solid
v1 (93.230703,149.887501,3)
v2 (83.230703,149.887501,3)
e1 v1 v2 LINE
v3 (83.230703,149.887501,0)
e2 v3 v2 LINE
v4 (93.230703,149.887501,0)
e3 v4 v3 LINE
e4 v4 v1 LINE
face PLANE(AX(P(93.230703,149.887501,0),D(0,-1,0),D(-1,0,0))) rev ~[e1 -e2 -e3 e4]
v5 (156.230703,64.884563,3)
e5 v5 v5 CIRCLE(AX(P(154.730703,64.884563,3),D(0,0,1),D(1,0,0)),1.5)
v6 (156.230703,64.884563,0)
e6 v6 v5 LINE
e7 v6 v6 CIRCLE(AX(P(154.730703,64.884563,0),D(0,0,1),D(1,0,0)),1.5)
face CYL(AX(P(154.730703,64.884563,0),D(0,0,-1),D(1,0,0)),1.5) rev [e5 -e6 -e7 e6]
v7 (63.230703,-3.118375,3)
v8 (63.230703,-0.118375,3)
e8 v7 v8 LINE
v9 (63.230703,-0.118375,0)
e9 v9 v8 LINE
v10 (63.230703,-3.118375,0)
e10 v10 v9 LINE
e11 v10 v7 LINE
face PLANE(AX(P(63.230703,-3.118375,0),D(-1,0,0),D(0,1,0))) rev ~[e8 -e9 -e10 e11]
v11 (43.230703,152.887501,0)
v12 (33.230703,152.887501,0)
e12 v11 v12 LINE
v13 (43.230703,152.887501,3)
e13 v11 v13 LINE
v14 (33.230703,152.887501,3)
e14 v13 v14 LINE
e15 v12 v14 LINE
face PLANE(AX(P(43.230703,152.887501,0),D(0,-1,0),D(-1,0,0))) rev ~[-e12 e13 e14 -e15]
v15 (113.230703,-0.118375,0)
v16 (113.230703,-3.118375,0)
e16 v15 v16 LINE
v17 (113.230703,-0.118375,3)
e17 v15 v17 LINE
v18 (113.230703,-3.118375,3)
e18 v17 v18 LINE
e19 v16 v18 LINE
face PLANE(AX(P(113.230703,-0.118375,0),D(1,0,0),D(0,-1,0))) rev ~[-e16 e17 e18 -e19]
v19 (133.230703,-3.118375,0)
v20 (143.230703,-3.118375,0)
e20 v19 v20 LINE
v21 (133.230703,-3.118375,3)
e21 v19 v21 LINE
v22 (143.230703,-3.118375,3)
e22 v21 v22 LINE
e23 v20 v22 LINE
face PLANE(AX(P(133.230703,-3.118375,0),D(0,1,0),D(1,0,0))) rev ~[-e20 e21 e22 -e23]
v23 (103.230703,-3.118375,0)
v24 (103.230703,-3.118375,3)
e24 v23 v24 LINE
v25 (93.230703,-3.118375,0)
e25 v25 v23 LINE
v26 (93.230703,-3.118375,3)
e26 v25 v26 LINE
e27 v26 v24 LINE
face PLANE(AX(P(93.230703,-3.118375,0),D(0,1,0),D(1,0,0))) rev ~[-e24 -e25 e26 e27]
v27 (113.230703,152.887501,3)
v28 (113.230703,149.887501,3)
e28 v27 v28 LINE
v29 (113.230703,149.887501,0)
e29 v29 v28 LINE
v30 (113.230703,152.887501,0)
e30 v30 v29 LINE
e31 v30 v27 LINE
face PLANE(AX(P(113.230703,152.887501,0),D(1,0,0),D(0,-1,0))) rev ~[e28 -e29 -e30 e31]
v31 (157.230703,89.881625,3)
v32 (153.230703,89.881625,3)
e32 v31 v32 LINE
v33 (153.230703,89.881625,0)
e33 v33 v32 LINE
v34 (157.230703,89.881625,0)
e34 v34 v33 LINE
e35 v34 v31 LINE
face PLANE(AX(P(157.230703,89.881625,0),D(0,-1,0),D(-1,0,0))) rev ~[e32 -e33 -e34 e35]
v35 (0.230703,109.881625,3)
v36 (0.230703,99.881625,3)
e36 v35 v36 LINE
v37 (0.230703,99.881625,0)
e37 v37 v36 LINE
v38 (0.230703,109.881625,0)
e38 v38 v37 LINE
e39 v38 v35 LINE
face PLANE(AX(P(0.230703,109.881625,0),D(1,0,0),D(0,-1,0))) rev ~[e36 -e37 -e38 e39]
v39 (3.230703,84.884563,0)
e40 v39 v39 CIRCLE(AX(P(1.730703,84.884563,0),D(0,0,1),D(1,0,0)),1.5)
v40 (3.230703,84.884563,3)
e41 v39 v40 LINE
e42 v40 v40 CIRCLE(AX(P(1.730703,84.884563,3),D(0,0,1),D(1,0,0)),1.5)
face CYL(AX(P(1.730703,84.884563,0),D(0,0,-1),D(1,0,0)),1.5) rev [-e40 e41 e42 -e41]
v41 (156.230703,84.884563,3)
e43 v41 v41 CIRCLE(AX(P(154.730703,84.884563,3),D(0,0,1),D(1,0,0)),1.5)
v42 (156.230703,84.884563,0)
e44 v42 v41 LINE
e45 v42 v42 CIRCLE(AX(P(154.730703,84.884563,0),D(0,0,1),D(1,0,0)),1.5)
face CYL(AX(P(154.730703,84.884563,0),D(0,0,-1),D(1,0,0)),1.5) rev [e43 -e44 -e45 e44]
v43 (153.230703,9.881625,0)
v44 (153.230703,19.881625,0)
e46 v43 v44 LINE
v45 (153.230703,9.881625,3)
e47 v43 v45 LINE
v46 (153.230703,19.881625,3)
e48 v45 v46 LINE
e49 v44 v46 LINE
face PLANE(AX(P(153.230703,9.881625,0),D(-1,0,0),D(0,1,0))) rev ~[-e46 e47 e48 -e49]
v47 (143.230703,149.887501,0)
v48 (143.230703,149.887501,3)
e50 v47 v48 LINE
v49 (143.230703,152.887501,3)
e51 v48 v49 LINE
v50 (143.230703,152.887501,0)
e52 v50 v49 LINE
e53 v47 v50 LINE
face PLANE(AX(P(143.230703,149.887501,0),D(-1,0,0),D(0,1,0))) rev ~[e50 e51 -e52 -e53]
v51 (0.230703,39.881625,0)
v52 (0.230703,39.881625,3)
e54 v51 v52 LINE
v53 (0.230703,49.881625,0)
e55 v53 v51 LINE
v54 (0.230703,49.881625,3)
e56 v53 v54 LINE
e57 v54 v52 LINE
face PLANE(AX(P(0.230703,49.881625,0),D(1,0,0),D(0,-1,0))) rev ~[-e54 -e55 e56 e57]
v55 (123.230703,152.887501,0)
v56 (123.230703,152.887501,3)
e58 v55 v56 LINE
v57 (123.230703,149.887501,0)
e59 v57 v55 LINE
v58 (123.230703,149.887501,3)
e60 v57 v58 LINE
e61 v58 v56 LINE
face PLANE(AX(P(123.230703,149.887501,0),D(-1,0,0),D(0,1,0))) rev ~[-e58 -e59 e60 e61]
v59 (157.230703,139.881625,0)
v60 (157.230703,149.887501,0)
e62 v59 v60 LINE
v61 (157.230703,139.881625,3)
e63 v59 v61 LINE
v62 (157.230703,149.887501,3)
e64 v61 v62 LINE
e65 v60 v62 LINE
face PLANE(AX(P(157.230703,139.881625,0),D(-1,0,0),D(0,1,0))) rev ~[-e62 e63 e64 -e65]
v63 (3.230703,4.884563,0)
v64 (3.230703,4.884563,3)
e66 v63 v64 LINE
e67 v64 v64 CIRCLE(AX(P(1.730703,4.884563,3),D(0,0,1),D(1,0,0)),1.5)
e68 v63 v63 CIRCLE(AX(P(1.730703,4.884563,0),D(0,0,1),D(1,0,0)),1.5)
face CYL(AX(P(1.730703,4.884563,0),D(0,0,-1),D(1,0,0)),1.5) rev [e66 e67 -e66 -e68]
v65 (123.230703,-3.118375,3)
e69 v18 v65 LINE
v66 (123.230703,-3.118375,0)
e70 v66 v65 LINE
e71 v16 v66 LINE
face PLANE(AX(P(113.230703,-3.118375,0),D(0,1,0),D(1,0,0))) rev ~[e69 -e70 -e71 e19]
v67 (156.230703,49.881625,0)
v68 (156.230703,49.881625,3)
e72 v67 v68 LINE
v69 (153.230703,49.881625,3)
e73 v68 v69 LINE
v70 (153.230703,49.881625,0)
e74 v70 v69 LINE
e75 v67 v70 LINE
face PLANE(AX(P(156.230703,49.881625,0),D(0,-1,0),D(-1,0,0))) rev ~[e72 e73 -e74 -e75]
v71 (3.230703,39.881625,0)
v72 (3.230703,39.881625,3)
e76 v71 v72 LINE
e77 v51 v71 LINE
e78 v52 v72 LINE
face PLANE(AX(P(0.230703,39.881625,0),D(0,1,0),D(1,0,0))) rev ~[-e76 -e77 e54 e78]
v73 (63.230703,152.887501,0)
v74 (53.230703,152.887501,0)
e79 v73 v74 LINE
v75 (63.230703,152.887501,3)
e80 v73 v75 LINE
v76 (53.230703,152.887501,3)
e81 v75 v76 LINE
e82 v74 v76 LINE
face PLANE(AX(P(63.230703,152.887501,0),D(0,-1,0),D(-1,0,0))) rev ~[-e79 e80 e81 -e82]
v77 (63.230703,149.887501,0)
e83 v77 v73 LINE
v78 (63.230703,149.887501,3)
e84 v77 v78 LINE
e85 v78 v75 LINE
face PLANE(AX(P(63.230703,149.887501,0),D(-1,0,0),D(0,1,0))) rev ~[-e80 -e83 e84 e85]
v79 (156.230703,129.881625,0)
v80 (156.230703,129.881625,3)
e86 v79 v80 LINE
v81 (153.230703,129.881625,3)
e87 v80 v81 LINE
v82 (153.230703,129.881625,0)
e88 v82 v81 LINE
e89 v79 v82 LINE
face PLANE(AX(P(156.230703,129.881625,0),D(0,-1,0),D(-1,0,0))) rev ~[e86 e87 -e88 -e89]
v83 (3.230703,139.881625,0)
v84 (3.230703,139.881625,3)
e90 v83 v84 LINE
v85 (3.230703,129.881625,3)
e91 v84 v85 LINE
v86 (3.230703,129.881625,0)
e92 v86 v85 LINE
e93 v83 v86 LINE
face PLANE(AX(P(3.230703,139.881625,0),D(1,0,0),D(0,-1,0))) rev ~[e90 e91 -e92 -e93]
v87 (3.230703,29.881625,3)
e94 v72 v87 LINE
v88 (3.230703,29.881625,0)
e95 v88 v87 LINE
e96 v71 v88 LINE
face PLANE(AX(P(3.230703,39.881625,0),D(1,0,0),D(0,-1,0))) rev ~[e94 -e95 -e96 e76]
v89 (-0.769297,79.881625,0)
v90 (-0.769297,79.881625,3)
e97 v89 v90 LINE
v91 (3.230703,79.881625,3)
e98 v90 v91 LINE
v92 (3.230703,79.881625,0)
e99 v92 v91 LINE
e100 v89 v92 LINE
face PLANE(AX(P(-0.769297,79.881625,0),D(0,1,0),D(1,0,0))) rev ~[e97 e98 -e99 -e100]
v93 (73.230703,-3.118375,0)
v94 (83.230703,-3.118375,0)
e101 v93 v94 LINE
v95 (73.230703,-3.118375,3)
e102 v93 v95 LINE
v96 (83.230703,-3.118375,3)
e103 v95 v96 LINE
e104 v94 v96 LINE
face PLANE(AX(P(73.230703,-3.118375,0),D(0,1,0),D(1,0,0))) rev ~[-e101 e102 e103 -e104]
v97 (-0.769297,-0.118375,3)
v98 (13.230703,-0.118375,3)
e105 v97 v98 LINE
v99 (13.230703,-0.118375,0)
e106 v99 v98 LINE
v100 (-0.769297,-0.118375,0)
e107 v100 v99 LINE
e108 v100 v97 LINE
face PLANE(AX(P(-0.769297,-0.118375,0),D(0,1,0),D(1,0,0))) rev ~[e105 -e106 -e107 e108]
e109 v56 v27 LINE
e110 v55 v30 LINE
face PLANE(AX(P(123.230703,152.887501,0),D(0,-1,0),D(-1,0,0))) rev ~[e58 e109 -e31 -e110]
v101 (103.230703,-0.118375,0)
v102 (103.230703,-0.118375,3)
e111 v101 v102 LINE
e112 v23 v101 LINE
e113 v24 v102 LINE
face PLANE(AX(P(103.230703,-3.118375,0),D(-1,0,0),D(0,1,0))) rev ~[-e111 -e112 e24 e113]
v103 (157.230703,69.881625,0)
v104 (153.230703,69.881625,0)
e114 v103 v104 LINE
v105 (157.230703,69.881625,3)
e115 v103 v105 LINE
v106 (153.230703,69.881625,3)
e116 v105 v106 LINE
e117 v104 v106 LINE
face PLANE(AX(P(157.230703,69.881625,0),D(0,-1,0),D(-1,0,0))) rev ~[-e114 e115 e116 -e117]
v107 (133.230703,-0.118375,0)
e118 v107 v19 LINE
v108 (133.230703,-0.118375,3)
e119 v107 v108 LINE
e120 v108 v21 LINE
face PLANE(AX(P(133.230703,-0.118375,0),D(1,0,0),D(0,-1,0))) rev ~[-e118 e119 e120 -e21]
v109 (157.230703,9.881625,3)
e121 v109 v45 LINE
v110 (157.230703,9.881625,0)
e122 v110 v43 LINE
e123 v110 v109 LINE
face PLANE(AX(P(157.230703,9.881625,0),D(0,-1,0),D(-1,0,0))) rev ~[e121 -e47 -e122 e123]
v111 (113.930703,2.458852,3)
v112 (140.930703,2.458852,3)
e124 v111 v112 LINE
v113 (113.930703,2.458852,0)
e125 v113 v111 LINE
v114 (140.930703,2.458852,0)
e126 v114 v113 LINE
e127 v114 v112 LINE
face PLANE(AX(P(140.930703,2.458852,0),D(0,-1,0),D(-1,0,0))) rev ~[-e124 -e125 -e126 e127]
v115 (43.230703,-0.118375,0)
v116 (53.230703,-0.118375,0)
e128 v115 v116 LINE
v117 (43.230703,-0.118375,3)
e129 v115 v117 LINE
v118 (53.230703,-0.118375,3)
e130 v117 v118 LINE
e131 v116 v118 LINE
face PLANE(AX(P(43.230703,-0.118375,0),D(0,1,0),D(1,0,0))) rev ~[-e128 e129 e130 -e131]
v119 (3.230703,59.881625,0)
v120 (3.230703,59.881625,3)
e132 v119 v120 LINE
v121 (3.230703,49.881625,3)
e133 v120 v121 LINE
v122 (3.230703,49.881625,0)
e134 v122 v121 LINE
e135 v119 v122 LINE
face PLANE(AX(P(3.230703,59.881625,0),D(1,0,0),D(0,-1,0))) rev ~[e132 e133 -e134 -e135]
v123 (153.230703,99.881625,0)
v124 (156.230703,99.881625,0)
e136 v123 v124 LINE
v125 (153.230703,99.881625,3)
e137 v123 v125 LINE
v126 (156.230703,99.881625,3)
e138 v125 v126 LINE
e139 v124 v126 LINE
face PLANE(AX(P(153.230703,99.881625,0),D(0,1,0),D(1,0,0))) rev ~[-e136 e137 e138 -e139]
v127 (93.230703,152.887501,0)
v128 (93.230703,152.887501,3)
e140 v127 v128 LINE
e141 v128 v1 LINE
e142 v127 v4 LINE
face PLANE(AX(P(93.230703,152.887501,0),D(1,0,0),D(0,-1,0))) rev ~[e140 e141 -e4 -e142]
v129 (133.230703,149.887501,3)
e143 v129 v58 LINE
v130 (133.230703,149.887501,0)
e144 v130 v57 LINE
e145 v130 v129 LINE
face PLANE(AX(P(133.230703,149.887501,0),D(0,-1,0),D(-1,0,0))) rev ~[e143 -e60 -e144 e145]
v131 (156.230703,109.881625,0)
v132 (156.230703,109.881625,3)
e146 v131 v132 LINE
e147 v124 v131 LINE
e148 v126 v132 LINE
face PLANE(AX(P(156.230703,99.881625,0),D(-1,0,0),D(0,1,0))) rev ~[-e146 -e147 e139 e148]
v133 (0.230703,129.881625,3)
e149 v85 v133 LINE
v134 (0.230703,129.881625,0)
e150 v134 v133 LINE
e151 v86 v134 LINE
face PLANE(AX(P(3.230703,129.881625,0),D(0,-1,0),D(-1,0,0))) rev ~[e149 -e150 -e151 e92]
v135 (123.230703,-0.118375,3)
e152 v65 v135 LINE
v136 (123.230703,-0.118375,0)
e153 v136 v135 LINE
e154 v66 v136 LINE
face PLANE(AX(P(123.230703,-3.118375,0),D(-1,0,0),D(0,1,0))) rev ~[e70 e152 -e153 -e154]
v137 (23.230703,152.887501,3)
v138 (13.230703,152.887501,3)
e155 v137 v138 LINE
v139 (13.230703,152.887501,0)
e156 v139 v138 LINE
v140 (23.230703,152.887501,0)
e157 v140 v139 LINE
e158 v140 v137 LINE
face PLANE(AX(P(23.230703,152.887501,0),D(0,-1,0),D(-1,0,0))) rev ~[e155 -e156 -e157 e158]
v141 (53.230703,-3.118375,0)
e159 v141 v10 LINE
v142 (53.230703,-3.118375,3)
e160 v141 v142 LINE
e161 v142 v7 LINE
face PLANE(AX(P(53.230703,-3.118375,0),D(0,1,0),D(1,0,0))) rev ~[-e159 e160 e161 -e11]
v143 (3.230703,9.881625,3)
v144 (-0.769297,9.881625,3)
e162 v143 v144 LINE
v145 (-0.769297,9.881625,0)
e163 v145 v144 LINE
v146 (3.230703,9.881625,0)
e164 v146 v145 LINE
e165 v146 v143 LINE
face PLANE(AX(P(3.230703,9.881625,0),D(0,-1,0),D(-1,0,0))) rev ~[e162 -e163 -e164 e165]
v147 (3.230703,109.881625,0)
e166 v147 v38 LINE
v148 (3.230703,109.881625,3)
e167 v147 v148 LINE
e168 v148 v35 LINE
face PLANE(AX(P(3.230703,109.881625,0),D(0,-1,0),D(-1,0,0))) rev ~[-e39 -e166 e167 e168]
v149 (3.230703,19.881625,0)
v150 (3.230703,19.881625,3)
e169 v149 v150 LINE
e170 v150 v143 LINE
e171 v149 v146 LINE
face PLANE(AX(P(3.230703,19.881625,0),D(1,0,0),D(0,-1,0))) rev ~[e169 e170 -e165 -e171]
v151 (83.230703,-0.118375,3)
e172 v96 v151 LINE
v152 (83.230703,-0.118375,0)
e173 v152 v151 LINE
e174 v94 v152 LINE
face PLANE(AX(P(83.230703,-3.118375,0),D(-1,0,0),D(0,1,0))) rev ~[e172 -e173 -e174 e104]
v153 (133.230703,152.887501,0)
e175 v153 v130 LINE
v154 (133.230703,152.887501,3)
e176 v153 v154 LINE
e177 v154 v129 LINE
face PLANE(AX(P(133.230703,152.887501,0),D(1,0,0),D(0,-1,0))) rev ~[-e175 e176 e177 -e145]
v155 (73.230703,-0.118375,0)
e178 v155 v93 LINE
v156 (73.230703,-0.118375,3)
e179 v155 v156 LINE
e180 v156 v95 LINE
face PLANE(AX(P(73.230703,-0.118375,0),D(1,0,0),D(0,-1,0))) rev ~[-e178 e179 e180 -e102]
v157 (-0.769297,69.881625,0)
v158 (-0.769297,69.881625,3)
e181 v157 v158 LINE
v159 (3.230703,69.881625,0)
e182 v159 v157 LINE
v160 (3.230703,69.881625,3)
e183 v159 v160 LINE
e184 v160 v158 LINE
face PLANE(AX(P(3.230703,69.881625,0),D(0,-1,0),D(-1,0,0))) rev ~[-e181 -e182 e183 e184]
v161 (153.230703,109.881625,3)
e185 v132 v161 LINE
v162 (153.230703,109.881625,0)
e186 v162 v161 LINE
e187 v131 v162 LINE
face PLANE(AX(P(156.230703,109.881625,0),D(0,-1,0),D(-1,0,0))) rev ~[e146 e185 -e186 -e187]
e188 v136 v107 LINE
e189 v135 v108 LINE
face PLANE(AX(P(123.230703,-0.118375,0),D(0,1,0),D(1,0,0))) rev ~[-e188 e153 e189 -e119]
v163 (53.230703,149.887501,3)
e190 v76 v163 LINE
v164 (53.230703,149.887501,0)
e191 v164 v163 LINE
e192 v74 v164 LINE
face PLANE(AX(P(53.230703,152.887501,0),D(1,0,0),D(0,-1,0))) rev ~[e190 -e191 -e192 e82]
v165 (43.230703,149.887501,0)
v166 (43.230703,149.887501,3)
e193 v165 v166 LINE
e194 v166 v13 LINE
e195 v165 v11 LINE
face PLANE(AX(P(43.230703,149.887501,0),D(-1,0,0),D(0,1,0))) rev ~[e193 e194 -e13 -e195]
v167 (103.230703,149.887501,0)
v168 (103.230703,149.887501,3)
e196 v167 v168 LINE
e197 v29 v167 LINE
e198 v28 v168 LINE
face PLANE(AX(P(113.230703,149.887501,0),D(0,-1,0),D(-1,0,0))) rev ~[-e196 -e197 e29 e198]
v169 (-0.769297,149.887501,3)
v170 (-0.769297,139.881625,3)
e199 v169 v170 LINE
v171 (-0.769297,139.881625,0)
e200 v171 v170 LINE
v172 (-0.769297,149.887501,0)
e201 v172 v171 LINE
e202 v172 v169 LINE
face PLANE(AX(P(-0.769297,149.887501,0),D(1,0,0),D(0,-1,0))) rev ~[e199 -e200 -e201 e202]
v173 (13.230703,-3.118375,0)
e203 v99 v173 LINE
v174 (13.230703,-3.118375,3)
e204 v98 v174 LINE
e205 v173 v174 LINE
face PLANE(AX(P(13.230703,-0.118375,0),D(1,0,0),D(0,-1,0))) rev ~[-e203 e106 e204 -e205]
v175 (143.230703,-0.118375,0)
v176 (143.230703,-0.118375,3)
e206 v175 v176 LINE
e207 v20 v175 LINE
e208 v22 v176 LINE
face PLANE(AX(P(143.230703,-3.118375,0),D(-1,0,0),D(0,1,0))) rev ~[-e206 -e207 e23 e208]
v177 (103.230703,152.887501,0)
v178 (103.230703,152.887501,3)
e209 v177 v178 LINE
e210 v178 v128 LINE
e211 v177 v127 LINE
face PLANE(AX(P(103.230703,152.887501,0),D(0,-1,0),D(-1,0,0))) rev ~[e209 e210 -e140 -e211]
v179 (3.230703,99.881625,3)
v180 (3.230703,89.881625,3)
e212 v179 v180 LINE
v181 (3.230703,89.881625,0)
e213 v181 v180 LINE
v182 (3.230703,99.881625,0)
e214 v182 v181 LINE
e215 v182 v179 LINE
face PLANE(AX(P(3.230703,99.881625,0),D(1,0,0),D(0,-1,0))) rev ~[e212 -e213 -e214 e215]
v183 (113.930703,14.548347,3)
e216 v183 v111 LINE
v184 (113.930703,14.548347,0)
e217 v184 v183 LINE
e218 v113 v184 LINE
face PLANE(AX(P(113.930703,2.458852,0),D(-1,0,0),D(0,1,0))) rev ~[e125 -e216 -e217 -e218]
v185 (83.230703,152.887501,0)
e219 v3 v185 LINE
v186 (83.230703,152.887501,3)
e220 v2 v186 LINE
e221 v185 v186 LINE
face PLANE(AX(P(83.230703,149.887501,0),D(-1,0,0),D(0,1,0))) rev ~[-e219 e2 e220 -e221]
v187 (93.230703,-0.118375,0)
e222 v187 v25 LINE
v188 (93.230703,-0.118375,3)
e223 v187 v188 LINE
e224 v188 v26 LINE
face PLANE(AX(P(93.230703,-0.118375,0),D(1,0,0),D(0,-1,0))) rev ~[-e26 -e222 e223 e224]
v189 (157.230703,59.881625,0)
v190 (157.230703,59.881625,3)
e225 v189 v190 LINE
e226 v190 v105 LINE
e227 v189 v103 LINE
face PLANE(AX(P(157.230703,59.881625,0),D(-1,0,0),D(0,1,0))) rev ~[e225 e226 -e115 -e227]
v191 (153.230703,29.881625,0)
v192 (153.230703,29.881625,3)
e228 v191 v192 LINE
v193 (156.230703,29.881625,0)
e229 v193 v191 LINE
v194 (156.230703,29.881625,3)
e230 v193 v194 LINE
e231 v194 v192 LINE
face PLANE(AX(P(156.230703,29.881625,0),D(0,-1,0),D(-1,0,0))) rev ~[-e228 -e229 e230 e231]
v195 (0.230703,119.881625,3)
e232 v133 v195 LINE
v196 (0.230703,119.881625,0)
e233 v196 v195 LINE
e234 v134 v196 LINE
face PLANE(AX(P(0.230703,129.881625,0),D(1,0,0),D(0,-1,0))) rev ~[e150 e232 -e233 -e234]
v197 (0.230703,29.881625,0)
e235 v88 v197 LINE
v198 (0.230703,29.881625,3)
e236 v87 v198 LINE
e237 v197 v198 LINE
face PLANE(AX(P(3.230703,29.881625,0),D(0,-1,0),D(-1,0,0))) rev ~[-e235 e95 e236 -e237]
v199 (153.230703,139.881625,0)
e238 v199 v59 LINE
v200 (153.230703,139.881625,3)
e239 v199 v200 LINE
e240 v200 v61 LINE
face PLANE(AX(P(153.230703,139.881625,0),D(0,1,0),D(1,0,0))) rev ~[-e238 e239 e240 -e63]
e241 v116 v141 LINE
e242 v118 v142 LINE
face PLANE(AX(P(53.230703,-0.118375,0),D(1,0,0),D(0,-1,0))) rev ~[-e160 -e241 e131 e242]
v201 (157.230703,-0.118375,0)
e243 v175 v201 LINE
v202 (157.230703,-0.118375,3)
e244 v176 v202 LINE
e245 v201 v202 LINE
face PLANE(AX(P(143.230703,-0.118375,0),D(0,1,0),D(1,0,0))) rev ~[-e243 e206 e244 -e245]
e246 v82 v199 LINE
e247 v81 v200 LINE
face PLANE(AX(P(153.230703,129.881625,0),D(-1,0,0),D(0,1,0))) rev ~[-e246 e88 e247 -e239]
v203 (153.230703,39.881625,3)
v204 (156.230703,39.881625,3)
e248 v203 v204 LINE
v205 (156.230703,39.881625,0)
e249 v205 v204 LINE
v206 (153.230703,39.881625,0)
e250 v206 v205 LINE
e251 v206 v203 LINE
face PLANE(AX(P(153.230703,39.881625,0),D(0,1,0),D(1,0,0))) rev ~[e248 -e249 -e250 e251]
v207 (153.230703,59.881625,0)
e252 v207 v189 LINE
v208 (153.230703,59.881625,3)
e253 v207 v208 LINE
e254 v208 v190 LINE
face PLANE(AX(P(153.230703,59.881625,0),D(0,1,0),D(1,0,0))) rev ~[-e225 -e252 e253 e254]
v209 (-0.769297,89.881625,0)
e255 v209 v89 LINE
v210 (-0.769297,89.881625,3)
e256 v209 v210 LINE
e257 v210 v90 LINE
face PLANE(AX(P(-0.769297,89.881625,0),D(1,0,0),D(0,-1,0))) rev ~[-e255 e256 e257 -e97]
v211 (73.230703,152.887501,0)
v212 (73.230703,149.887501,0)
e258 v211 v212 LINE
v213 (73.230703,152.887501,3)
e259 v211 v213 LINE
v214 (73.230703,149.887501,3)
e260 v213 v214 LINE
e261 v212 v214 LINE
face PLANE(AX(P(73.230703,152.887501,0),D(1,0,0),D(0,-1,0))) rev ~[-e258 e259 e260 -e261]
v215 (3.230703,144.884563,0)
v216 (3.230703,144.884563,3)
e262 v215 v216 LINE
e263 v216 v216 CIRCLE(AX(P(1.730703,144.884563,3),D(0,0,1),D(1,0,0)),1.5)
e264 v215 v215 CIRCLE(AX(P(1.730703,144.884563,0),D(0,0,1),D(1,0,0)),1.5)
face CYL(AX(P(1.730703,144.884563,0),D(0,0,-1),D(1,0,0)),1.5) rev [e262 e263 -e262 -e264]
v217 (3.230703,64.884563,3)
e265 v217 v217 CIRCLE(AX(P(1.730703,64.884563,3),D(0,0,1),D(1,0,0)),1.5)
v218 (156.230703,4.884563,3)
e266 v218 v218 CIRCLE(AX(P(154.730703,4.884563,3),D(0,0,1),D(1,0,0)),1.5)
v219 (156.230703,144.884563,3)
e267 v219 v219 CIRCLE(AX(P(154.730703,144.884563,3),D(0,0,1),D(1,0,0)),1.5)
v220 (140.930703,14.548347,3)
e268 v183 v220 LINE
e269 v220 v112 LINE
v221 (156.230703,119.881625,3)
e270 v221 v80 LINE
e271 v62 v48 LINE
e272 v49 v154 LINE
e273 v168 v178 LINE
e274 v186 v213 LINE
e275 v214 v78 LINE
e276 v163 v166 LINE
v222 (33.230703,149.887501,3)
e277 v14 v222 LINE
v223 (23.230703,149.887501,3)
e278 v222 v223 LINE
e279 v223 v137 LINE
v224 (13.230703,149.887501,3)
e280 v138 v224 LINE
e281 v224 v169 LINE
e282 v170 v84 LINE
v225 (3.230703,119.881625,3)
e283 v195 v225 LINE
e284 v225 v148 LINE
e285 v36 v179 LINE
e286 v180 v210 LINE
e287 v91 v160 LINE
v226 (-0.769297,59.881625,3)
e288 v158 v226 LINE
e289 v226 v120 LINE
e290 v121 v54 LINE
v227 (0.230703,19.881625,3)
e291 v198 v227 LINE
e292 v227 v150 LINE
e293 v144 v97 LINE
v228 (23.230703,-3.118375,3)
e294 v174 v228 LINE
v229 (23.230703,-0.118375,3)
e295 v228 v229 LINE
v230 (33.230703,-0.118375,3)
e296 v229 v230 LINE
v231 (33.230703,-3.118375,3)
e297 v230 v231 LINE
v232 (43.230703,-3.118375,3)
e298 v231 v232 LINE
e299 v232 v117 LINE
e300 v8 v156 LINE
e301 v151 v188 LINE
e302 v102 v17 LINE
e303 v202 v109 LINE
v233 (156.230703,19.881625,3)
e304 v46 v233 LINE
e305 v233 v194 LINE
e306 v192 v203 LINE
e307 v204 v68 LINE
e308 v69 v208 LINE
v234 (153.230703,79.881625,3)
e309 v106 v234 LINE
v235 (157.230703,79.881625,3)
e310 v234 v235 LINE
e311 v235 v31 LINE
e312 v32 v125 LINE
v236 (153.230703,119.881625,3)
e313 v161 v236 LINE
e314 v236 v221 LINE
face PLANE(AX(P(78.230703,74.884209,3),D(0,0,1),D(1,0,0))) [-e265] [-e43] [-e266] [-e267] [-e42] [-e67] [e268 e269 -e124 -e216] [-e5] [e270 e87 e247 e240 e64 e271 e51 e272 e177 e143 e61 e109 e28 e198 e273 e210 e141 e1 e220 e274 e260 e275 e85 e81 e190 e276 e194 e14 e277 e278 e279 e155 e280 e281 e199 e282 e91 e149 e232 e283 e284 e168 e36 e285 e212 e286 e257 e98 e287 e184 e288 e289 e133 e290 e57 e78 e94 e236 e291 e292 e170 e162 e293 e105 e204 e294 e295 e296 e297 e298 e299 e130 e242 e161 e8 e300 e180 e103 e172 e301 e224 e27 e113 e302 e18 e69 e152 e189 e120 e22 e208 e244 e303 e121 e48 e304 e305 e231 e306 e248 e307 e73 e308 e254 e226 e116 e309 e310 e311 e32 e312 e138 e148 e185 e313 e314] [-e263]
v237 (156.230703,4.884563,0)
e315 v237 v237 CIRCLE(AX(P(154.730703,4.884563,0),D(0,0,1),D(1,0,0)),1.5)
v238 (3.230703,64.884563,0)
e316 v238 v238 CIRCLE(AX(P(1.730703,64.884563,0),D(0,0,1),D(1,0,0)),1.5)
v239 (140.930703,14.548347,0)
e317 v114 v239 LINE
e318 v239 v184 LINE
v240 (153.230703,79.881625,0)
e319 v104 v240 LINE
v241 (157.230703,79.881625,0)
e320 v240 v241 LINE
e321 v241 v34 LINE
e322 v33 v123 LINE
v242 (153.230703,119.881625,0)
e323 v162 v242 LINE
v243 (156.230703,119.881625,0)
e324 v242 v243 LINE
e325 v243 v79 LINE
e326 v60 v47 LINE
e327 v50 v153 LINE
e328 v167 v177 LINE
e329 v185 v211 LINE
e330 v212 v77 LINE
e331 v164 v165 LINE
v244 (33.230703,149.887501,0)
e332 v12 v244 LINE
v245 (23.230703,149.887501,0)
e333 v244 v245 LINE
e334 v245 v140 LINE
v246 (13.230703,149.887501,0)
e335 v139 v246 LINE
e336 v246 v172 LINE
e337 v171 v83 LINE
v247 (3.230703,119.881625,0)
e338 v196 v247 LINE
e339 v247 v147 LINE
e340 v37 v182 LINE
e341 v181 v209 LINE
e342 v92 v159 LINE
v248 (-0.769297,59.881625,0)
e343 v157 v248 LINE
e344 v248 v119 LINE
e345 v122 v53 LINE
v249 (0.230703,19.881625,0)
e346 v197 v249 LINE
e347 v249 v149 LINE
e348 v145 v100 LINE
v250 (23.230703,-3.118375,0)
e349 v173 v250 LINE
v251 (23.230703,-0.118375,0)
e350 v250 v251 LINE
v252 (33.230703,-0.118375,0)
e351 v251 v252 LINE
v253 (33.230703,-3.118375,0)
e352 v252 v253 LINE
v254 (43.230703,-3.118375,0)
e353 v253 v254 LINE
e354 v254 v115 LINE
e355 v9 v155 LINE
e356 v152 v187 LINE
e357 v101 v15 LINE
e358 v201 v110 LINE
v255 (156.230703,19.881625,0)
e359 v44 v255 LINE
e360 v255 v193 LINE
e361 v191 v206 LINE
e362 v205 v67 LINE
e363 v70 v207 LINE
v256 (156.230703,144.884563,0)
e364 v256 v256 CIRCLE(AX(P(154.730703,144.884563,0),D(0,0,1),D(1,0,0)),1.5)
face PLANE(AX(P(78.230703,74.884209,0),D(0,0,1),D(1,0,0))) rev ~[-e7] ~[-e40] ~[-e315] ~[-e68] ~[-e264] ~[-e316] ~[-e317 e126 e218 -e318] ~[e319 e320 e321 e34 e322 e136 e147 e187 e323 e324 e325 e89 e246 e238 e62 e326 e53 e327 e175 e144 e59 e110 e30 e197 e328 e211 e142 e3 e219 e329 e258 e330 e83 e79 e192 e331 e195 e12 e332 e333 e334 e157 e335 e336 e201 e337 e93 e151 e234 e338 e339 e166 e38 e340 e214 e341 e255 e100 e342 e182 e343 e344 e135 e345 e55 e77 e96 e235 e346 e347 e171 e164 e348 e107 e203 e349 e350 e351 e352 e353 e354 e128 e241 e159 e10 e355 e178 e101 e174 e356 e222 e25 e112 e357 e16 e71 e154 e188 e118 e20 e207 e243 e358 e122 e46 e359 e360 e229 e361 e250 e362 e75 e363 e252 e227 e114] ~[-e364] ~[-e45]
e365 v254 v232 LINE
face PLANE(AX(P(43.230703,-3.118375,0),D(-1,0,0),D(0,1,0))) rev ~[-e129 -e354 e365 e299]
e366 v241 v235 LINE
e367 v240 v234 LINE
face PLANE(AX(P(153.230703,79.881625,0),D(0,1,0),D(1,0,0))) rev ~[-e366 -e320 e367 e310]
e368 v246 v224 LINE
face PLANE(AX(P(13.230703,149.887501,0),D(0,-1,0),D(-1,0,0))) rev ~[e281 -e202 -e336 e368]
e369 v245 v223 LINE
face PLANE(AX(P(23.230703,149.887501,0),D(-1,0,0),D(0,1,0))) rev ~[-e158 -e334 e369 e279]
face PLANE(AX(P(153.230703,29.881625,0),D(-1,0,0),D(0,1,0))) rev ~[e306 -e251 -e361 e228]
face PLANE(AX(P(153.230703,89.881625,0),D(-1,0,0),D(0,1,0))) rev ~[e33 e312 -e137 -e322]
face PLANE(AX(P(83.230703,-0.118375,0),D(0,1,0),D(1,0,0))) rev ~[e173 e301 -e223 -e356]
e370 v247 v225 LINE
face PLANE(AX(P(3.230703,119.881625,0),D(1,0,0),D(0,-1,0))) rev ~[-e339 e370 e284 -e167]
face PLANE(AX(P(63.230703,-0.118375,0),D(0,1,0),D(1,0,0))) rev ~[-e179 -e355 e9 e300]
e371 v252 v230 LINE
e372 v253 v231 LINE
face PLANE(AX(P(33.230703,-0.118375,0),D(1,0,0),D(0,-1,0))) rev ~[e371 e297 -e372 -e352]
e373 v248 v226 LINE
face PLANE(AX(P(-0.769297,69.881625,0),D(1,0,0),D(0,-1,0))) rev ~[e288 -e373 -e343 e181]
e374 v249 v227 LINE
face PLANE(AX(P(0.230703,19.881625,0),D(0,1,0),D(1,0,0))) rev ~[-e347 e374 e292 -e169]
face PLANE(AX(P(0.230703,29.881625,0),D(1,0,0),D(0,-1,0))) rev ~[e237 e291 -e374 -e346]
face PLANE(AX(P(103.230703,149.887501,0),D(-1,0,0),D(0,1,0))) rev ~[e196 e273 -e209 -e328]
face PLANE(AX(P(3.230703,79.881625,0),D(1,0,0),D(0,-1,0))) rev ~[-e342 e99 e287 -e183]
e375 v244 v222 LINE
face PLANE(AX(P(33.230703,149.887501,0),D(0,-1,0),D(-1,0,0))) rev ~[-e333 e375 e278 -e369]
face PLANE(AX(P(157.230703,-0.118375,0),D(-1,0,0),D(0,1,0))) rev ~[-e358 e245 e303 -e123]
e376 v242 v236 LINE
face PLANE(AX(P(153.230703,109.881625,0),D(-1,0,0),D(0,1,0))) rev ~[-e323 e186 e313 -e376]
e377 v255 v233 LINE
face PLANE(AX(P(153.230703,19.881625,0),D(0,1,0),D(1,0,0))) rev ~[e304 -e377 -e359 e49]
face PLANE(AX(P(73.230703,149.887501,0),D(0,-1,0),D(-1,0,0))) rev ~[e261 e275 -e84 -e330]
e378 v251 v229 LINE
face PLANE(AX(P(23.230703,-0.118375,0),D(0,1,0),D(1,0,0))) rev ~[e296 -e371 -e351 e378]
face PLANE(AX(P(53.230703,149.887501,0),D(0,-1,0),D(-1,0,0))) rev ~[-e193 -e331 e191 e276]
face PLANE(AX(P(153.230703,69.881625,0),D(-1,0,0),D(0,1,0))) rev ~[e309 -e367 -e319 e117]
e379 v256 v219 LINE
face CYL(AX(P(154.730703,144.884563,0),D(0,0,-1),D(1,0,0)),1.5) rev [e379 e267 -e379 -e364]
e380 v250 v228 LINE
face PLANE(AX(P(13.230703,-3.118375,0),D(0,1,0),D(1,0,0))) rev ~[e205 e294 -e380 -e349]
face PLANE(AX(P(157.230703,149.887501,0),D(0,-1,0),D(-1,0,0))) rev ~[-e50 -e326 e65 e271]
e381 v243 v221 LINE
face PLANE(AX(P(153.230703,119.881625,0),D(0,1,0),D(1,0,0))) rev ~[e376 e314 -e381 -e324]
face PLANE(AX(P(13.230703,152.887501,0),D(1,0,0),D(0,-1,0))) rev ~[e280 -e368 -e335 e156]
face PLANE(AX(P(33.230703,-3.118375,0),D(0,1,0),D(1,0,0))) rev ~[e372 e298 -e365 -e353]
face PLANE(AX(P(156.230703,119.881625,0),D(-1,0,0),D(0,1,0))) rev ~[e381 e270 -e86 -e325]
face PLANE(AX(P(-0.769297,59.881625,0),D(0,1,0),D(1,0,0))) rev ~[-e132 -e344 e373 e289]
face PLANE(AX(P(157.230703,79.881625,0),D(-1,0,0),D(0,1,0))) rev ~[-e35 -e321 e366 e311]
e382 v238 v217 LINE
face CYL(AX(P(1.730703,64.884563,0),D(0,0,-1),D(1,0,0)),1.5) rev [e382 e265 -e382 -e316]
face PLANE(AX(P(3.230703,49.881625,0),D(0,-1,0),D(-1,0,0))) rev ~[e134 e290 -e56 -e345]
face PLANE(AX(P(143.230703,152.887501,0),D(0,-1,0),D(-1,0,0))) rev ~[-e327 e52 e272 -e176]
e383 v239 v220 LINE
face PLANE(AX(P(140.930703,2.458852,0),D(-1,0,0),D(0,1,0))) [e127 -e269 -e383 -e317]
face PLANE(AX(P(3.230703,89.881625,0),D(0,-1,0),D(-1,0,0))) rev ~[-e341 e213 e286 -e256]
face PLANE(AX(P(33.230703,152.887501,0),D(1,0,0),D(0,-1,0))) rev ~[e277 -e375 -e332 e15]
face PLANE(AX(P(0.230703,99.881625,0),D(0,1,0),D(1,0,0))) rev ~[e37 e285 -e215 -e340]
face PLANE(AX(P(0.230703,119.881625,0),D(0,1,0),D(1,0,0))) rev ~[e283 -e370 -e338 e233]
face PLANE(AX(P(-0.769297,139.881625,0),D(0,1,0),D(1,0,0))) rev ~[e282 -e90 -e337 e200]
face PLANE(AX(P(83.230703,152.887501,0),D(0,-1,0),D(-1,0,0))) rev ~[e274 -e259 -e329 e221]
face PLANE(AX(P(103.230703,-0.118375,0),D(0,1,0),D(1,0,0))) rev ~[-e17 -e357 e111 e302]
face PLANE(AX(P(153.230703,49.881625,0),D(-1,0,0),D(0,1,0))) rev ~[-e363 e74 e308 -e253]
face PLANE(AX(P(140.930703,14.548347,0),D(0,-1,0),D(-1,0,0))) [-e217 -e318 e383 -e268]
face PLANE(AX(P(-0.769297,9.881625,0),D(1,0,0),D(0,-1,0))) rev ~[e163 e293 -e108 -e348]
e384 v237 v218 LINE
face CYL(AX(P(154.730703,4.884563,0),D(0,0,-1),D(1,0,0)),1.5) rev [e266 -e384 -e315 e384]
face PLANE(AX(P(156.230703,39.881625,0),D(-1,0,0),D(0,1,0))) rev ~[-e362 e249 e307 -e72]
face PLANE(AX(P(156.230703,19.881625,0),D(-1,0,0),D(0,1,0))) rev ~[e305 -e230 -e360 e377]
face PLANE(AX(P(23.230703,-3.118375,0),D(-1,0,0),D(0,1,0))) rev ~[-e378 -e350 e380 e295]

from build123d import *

# Parameters (mm, degrees)
SKETCH2_R           = 1.5
BOSS_EXTRUDE2_DEPTH = 3
SKETCH3_W           = 27
SKETCH3_H           = 12.089495281
CUT_EXTRUDE1_DEPTH  = 10


with BuildPart() as part:
    # Sketch2 → Boss-Extrude2 (new body)
    with BuildSketch(Plane.XY):
        Polygon((143.230702788, -0.118374558), (153.230702788, -0.118374558), (157.230702788, -0.118374558), (157.230702788, 9.881625442), (153.230702788, 9.881625442), (153.230702788, 19.881625442), (156.230702788, 19.881625442), (156.230702788, 29.881625442), (153.230702788, 29.881625442), (153.230702788, 39.881625442), (156.230702788, 39.881625442), (156.230702788, 49.881625442), (153.230702788, 49.881625442), (153.230702788, 59.881625442), (157.230702788, 59.881625442), (157.230702788, 69.881625442), (153.230702788, 69.881625442), (153.230702788, 79.881625442), (157.230702788, 79.881625442), (157.230702788, 89.881625442), (153.230702788, 89.881625442), (153.230702788, 99.881625442), (156.230702788, 99.881625442), (156.230702788, 109.881625442), (153.230702788, 109.881625442), (153.230702788, 119.881625442), (156.230702788, 119.881625442), (156.230702788, 129.881625442), (153.230702788, 129.881625442), (153.230702788, 139.881625442), (157.230702788, 139.881625442), (157.230702788, 149.88750096), (153.230702788, 149.88750096), (143.230702788, 149.88750096), (143.230702788, 152.88750096), (133.230702788, 152.88750096), (133.230702788, 149.88750096), (123.230702788, 149.88750096), (123.230702788, 152.88750096), (113.230702788, 152.88750096), (113.230702788, 149.88750096), (103.230702788, 149.88750096), (103.230702788, 152.88750096), (93.230702788, 152.88750096), (93.230702788, 149.88750096), (83.230702788, 149.88750096), (83.230702788, 152.88750096), (73.230702788, 152.88750096), (73.230702788, 149.88750096), (63.230702788, 149.88750096), (63.230702788, 152.88750096), (53.230702788, 152.88750096), (53.230702788, 149.88750096), (43.230702788, 149.88750096), (43.230702788, 152.88750096), (33.230702788, 152.88750096), (33.230702788, 149.88750096), (23.230702788, 149.88750096), (23.230702788, 152.88750096), (13.230702788, 152.88750096), (13.230702788, 149.88750096), (3.230702788, 149.88750096), (-0.769297212, 149.88750096), (-0.769297212, 139.881625442), (3.230702788, 139.881625442), (3.230702788, 129.881625442), (0.230702788, 129.881625442), (0.230702788, 119.881625442), (3.230702788, 119.881625442), (3.230702788, 109.881625442), (0.230702788, 109.881625442), (0.230702788, 99.881625442), (3.230702788, 99.881625442), (3.230702788, 89.881625442), (-0.769297212, 89.881625442), (-0.769297212, 79.881625442), (3.230702788, 79.881625442), (3.230702788, 69.881625442), (-0.769297212, 69.881625442), (-0.769297212, 59.881625442), (3.230702788, 59.881625442), (3.230702788, 49.881625442), (0.230702788, 49.881625442), (0.230702788, 39.881625442), (3.230702788, 39.881625442), (3.230702788, 29.881625442), (0.230702788, 29.881625442), (0.230702788, 19.881625442), (3.230702788, 19.881625442), (3.230702788, 9.881625442), (-0.769297212, 9.881625442), (-0.769297212, -0.118374558), (3.230702788, -0.118374558), (13.230702788, -0.118374558), (13.230702788, -3.118374558), (23.230702788, -3.118374558), (23.230702788, -0.118374558), (33.230702788, -0.118374558), (33.230702788, -3.118374558), (43.230702788, -3.118374558), (43.230702788, -0.118374558), (53.230702788, -0.118374558), (53.230702788, -3.118374558), (63.230702788, -3.118374558), (63.230702788, -0.118374558), (73.230702788, -0.118374558), (73.230702788, -3.118374558), (83.230702788, -3.118374558), (83.230702788, -0.118374558), (93.230702788, -0.118374558), (93.230702788, -3.118374558), (103.230702788, -3.118374558), (103.230702788, -0.118374558), (113.230702788, -0.118374558), (113.230702788, -3.118374558), (123.230702788, -3.118374558), (123.230702788, -0.118374558), (133.230702788, -0.118374558), (133.230702788, -3.118374558), (143.230702788, -3.118374558), align=None)
        with Locations((1.730702788, 4.884563201)):
            Circle(SKETCH2_R, mode=Mode.SUBTRACT)
        with Locations((1.730702788, 64.884563201)):
            Circle(SKETCH2_R, mode=Mode.SUBTRACT)
        with Locations((154.730702788, 4.884563201)):
            Circle(SKETCH2_R, mode=Mode.SUBTRACT)
        with Locations((154.730702788, 64.884563201)):
            Circle(SKETCH2_R, mode=Mode.SUBTRACT)
        with Locations((1.730702788, 84.884563201)):
            Circle(SKETCH2_R, mode=Mode.SUBTRACT)
        with Locations((1.730702788, 144.884563201)):
            Circle(SKETCH2_R, mode=Mode.SUBTRACT)
        with Locations((154.730702788, 84.884563201)):
            Circle(SKETCH2_R, mode=Mode.SUBTRACT)
        with Locations((154.730702788, 144.884563201)):
            Circle(SKETCH2_R, mode=Mode.SUBTRACT)
    extrude(amount=BOSS_EXTRUDE2_DEPTH)

    # Sketch3 → Cut-Extrude1 (cut)
    with BuildSketch(Plane(origin=(0, 0, 0), x_dir=(-1, 0, 0), z_dir=(0, 0, -1))):
        with Locations((-127.430702788, 8.503599334)):
            Rectangle(SKETCH3_W, SKETCH3_H)
    extrude(amount=-CUT_EXTRUDE1_DEPTH, mode=Mode.SUBTRACT)


solid = part.part
